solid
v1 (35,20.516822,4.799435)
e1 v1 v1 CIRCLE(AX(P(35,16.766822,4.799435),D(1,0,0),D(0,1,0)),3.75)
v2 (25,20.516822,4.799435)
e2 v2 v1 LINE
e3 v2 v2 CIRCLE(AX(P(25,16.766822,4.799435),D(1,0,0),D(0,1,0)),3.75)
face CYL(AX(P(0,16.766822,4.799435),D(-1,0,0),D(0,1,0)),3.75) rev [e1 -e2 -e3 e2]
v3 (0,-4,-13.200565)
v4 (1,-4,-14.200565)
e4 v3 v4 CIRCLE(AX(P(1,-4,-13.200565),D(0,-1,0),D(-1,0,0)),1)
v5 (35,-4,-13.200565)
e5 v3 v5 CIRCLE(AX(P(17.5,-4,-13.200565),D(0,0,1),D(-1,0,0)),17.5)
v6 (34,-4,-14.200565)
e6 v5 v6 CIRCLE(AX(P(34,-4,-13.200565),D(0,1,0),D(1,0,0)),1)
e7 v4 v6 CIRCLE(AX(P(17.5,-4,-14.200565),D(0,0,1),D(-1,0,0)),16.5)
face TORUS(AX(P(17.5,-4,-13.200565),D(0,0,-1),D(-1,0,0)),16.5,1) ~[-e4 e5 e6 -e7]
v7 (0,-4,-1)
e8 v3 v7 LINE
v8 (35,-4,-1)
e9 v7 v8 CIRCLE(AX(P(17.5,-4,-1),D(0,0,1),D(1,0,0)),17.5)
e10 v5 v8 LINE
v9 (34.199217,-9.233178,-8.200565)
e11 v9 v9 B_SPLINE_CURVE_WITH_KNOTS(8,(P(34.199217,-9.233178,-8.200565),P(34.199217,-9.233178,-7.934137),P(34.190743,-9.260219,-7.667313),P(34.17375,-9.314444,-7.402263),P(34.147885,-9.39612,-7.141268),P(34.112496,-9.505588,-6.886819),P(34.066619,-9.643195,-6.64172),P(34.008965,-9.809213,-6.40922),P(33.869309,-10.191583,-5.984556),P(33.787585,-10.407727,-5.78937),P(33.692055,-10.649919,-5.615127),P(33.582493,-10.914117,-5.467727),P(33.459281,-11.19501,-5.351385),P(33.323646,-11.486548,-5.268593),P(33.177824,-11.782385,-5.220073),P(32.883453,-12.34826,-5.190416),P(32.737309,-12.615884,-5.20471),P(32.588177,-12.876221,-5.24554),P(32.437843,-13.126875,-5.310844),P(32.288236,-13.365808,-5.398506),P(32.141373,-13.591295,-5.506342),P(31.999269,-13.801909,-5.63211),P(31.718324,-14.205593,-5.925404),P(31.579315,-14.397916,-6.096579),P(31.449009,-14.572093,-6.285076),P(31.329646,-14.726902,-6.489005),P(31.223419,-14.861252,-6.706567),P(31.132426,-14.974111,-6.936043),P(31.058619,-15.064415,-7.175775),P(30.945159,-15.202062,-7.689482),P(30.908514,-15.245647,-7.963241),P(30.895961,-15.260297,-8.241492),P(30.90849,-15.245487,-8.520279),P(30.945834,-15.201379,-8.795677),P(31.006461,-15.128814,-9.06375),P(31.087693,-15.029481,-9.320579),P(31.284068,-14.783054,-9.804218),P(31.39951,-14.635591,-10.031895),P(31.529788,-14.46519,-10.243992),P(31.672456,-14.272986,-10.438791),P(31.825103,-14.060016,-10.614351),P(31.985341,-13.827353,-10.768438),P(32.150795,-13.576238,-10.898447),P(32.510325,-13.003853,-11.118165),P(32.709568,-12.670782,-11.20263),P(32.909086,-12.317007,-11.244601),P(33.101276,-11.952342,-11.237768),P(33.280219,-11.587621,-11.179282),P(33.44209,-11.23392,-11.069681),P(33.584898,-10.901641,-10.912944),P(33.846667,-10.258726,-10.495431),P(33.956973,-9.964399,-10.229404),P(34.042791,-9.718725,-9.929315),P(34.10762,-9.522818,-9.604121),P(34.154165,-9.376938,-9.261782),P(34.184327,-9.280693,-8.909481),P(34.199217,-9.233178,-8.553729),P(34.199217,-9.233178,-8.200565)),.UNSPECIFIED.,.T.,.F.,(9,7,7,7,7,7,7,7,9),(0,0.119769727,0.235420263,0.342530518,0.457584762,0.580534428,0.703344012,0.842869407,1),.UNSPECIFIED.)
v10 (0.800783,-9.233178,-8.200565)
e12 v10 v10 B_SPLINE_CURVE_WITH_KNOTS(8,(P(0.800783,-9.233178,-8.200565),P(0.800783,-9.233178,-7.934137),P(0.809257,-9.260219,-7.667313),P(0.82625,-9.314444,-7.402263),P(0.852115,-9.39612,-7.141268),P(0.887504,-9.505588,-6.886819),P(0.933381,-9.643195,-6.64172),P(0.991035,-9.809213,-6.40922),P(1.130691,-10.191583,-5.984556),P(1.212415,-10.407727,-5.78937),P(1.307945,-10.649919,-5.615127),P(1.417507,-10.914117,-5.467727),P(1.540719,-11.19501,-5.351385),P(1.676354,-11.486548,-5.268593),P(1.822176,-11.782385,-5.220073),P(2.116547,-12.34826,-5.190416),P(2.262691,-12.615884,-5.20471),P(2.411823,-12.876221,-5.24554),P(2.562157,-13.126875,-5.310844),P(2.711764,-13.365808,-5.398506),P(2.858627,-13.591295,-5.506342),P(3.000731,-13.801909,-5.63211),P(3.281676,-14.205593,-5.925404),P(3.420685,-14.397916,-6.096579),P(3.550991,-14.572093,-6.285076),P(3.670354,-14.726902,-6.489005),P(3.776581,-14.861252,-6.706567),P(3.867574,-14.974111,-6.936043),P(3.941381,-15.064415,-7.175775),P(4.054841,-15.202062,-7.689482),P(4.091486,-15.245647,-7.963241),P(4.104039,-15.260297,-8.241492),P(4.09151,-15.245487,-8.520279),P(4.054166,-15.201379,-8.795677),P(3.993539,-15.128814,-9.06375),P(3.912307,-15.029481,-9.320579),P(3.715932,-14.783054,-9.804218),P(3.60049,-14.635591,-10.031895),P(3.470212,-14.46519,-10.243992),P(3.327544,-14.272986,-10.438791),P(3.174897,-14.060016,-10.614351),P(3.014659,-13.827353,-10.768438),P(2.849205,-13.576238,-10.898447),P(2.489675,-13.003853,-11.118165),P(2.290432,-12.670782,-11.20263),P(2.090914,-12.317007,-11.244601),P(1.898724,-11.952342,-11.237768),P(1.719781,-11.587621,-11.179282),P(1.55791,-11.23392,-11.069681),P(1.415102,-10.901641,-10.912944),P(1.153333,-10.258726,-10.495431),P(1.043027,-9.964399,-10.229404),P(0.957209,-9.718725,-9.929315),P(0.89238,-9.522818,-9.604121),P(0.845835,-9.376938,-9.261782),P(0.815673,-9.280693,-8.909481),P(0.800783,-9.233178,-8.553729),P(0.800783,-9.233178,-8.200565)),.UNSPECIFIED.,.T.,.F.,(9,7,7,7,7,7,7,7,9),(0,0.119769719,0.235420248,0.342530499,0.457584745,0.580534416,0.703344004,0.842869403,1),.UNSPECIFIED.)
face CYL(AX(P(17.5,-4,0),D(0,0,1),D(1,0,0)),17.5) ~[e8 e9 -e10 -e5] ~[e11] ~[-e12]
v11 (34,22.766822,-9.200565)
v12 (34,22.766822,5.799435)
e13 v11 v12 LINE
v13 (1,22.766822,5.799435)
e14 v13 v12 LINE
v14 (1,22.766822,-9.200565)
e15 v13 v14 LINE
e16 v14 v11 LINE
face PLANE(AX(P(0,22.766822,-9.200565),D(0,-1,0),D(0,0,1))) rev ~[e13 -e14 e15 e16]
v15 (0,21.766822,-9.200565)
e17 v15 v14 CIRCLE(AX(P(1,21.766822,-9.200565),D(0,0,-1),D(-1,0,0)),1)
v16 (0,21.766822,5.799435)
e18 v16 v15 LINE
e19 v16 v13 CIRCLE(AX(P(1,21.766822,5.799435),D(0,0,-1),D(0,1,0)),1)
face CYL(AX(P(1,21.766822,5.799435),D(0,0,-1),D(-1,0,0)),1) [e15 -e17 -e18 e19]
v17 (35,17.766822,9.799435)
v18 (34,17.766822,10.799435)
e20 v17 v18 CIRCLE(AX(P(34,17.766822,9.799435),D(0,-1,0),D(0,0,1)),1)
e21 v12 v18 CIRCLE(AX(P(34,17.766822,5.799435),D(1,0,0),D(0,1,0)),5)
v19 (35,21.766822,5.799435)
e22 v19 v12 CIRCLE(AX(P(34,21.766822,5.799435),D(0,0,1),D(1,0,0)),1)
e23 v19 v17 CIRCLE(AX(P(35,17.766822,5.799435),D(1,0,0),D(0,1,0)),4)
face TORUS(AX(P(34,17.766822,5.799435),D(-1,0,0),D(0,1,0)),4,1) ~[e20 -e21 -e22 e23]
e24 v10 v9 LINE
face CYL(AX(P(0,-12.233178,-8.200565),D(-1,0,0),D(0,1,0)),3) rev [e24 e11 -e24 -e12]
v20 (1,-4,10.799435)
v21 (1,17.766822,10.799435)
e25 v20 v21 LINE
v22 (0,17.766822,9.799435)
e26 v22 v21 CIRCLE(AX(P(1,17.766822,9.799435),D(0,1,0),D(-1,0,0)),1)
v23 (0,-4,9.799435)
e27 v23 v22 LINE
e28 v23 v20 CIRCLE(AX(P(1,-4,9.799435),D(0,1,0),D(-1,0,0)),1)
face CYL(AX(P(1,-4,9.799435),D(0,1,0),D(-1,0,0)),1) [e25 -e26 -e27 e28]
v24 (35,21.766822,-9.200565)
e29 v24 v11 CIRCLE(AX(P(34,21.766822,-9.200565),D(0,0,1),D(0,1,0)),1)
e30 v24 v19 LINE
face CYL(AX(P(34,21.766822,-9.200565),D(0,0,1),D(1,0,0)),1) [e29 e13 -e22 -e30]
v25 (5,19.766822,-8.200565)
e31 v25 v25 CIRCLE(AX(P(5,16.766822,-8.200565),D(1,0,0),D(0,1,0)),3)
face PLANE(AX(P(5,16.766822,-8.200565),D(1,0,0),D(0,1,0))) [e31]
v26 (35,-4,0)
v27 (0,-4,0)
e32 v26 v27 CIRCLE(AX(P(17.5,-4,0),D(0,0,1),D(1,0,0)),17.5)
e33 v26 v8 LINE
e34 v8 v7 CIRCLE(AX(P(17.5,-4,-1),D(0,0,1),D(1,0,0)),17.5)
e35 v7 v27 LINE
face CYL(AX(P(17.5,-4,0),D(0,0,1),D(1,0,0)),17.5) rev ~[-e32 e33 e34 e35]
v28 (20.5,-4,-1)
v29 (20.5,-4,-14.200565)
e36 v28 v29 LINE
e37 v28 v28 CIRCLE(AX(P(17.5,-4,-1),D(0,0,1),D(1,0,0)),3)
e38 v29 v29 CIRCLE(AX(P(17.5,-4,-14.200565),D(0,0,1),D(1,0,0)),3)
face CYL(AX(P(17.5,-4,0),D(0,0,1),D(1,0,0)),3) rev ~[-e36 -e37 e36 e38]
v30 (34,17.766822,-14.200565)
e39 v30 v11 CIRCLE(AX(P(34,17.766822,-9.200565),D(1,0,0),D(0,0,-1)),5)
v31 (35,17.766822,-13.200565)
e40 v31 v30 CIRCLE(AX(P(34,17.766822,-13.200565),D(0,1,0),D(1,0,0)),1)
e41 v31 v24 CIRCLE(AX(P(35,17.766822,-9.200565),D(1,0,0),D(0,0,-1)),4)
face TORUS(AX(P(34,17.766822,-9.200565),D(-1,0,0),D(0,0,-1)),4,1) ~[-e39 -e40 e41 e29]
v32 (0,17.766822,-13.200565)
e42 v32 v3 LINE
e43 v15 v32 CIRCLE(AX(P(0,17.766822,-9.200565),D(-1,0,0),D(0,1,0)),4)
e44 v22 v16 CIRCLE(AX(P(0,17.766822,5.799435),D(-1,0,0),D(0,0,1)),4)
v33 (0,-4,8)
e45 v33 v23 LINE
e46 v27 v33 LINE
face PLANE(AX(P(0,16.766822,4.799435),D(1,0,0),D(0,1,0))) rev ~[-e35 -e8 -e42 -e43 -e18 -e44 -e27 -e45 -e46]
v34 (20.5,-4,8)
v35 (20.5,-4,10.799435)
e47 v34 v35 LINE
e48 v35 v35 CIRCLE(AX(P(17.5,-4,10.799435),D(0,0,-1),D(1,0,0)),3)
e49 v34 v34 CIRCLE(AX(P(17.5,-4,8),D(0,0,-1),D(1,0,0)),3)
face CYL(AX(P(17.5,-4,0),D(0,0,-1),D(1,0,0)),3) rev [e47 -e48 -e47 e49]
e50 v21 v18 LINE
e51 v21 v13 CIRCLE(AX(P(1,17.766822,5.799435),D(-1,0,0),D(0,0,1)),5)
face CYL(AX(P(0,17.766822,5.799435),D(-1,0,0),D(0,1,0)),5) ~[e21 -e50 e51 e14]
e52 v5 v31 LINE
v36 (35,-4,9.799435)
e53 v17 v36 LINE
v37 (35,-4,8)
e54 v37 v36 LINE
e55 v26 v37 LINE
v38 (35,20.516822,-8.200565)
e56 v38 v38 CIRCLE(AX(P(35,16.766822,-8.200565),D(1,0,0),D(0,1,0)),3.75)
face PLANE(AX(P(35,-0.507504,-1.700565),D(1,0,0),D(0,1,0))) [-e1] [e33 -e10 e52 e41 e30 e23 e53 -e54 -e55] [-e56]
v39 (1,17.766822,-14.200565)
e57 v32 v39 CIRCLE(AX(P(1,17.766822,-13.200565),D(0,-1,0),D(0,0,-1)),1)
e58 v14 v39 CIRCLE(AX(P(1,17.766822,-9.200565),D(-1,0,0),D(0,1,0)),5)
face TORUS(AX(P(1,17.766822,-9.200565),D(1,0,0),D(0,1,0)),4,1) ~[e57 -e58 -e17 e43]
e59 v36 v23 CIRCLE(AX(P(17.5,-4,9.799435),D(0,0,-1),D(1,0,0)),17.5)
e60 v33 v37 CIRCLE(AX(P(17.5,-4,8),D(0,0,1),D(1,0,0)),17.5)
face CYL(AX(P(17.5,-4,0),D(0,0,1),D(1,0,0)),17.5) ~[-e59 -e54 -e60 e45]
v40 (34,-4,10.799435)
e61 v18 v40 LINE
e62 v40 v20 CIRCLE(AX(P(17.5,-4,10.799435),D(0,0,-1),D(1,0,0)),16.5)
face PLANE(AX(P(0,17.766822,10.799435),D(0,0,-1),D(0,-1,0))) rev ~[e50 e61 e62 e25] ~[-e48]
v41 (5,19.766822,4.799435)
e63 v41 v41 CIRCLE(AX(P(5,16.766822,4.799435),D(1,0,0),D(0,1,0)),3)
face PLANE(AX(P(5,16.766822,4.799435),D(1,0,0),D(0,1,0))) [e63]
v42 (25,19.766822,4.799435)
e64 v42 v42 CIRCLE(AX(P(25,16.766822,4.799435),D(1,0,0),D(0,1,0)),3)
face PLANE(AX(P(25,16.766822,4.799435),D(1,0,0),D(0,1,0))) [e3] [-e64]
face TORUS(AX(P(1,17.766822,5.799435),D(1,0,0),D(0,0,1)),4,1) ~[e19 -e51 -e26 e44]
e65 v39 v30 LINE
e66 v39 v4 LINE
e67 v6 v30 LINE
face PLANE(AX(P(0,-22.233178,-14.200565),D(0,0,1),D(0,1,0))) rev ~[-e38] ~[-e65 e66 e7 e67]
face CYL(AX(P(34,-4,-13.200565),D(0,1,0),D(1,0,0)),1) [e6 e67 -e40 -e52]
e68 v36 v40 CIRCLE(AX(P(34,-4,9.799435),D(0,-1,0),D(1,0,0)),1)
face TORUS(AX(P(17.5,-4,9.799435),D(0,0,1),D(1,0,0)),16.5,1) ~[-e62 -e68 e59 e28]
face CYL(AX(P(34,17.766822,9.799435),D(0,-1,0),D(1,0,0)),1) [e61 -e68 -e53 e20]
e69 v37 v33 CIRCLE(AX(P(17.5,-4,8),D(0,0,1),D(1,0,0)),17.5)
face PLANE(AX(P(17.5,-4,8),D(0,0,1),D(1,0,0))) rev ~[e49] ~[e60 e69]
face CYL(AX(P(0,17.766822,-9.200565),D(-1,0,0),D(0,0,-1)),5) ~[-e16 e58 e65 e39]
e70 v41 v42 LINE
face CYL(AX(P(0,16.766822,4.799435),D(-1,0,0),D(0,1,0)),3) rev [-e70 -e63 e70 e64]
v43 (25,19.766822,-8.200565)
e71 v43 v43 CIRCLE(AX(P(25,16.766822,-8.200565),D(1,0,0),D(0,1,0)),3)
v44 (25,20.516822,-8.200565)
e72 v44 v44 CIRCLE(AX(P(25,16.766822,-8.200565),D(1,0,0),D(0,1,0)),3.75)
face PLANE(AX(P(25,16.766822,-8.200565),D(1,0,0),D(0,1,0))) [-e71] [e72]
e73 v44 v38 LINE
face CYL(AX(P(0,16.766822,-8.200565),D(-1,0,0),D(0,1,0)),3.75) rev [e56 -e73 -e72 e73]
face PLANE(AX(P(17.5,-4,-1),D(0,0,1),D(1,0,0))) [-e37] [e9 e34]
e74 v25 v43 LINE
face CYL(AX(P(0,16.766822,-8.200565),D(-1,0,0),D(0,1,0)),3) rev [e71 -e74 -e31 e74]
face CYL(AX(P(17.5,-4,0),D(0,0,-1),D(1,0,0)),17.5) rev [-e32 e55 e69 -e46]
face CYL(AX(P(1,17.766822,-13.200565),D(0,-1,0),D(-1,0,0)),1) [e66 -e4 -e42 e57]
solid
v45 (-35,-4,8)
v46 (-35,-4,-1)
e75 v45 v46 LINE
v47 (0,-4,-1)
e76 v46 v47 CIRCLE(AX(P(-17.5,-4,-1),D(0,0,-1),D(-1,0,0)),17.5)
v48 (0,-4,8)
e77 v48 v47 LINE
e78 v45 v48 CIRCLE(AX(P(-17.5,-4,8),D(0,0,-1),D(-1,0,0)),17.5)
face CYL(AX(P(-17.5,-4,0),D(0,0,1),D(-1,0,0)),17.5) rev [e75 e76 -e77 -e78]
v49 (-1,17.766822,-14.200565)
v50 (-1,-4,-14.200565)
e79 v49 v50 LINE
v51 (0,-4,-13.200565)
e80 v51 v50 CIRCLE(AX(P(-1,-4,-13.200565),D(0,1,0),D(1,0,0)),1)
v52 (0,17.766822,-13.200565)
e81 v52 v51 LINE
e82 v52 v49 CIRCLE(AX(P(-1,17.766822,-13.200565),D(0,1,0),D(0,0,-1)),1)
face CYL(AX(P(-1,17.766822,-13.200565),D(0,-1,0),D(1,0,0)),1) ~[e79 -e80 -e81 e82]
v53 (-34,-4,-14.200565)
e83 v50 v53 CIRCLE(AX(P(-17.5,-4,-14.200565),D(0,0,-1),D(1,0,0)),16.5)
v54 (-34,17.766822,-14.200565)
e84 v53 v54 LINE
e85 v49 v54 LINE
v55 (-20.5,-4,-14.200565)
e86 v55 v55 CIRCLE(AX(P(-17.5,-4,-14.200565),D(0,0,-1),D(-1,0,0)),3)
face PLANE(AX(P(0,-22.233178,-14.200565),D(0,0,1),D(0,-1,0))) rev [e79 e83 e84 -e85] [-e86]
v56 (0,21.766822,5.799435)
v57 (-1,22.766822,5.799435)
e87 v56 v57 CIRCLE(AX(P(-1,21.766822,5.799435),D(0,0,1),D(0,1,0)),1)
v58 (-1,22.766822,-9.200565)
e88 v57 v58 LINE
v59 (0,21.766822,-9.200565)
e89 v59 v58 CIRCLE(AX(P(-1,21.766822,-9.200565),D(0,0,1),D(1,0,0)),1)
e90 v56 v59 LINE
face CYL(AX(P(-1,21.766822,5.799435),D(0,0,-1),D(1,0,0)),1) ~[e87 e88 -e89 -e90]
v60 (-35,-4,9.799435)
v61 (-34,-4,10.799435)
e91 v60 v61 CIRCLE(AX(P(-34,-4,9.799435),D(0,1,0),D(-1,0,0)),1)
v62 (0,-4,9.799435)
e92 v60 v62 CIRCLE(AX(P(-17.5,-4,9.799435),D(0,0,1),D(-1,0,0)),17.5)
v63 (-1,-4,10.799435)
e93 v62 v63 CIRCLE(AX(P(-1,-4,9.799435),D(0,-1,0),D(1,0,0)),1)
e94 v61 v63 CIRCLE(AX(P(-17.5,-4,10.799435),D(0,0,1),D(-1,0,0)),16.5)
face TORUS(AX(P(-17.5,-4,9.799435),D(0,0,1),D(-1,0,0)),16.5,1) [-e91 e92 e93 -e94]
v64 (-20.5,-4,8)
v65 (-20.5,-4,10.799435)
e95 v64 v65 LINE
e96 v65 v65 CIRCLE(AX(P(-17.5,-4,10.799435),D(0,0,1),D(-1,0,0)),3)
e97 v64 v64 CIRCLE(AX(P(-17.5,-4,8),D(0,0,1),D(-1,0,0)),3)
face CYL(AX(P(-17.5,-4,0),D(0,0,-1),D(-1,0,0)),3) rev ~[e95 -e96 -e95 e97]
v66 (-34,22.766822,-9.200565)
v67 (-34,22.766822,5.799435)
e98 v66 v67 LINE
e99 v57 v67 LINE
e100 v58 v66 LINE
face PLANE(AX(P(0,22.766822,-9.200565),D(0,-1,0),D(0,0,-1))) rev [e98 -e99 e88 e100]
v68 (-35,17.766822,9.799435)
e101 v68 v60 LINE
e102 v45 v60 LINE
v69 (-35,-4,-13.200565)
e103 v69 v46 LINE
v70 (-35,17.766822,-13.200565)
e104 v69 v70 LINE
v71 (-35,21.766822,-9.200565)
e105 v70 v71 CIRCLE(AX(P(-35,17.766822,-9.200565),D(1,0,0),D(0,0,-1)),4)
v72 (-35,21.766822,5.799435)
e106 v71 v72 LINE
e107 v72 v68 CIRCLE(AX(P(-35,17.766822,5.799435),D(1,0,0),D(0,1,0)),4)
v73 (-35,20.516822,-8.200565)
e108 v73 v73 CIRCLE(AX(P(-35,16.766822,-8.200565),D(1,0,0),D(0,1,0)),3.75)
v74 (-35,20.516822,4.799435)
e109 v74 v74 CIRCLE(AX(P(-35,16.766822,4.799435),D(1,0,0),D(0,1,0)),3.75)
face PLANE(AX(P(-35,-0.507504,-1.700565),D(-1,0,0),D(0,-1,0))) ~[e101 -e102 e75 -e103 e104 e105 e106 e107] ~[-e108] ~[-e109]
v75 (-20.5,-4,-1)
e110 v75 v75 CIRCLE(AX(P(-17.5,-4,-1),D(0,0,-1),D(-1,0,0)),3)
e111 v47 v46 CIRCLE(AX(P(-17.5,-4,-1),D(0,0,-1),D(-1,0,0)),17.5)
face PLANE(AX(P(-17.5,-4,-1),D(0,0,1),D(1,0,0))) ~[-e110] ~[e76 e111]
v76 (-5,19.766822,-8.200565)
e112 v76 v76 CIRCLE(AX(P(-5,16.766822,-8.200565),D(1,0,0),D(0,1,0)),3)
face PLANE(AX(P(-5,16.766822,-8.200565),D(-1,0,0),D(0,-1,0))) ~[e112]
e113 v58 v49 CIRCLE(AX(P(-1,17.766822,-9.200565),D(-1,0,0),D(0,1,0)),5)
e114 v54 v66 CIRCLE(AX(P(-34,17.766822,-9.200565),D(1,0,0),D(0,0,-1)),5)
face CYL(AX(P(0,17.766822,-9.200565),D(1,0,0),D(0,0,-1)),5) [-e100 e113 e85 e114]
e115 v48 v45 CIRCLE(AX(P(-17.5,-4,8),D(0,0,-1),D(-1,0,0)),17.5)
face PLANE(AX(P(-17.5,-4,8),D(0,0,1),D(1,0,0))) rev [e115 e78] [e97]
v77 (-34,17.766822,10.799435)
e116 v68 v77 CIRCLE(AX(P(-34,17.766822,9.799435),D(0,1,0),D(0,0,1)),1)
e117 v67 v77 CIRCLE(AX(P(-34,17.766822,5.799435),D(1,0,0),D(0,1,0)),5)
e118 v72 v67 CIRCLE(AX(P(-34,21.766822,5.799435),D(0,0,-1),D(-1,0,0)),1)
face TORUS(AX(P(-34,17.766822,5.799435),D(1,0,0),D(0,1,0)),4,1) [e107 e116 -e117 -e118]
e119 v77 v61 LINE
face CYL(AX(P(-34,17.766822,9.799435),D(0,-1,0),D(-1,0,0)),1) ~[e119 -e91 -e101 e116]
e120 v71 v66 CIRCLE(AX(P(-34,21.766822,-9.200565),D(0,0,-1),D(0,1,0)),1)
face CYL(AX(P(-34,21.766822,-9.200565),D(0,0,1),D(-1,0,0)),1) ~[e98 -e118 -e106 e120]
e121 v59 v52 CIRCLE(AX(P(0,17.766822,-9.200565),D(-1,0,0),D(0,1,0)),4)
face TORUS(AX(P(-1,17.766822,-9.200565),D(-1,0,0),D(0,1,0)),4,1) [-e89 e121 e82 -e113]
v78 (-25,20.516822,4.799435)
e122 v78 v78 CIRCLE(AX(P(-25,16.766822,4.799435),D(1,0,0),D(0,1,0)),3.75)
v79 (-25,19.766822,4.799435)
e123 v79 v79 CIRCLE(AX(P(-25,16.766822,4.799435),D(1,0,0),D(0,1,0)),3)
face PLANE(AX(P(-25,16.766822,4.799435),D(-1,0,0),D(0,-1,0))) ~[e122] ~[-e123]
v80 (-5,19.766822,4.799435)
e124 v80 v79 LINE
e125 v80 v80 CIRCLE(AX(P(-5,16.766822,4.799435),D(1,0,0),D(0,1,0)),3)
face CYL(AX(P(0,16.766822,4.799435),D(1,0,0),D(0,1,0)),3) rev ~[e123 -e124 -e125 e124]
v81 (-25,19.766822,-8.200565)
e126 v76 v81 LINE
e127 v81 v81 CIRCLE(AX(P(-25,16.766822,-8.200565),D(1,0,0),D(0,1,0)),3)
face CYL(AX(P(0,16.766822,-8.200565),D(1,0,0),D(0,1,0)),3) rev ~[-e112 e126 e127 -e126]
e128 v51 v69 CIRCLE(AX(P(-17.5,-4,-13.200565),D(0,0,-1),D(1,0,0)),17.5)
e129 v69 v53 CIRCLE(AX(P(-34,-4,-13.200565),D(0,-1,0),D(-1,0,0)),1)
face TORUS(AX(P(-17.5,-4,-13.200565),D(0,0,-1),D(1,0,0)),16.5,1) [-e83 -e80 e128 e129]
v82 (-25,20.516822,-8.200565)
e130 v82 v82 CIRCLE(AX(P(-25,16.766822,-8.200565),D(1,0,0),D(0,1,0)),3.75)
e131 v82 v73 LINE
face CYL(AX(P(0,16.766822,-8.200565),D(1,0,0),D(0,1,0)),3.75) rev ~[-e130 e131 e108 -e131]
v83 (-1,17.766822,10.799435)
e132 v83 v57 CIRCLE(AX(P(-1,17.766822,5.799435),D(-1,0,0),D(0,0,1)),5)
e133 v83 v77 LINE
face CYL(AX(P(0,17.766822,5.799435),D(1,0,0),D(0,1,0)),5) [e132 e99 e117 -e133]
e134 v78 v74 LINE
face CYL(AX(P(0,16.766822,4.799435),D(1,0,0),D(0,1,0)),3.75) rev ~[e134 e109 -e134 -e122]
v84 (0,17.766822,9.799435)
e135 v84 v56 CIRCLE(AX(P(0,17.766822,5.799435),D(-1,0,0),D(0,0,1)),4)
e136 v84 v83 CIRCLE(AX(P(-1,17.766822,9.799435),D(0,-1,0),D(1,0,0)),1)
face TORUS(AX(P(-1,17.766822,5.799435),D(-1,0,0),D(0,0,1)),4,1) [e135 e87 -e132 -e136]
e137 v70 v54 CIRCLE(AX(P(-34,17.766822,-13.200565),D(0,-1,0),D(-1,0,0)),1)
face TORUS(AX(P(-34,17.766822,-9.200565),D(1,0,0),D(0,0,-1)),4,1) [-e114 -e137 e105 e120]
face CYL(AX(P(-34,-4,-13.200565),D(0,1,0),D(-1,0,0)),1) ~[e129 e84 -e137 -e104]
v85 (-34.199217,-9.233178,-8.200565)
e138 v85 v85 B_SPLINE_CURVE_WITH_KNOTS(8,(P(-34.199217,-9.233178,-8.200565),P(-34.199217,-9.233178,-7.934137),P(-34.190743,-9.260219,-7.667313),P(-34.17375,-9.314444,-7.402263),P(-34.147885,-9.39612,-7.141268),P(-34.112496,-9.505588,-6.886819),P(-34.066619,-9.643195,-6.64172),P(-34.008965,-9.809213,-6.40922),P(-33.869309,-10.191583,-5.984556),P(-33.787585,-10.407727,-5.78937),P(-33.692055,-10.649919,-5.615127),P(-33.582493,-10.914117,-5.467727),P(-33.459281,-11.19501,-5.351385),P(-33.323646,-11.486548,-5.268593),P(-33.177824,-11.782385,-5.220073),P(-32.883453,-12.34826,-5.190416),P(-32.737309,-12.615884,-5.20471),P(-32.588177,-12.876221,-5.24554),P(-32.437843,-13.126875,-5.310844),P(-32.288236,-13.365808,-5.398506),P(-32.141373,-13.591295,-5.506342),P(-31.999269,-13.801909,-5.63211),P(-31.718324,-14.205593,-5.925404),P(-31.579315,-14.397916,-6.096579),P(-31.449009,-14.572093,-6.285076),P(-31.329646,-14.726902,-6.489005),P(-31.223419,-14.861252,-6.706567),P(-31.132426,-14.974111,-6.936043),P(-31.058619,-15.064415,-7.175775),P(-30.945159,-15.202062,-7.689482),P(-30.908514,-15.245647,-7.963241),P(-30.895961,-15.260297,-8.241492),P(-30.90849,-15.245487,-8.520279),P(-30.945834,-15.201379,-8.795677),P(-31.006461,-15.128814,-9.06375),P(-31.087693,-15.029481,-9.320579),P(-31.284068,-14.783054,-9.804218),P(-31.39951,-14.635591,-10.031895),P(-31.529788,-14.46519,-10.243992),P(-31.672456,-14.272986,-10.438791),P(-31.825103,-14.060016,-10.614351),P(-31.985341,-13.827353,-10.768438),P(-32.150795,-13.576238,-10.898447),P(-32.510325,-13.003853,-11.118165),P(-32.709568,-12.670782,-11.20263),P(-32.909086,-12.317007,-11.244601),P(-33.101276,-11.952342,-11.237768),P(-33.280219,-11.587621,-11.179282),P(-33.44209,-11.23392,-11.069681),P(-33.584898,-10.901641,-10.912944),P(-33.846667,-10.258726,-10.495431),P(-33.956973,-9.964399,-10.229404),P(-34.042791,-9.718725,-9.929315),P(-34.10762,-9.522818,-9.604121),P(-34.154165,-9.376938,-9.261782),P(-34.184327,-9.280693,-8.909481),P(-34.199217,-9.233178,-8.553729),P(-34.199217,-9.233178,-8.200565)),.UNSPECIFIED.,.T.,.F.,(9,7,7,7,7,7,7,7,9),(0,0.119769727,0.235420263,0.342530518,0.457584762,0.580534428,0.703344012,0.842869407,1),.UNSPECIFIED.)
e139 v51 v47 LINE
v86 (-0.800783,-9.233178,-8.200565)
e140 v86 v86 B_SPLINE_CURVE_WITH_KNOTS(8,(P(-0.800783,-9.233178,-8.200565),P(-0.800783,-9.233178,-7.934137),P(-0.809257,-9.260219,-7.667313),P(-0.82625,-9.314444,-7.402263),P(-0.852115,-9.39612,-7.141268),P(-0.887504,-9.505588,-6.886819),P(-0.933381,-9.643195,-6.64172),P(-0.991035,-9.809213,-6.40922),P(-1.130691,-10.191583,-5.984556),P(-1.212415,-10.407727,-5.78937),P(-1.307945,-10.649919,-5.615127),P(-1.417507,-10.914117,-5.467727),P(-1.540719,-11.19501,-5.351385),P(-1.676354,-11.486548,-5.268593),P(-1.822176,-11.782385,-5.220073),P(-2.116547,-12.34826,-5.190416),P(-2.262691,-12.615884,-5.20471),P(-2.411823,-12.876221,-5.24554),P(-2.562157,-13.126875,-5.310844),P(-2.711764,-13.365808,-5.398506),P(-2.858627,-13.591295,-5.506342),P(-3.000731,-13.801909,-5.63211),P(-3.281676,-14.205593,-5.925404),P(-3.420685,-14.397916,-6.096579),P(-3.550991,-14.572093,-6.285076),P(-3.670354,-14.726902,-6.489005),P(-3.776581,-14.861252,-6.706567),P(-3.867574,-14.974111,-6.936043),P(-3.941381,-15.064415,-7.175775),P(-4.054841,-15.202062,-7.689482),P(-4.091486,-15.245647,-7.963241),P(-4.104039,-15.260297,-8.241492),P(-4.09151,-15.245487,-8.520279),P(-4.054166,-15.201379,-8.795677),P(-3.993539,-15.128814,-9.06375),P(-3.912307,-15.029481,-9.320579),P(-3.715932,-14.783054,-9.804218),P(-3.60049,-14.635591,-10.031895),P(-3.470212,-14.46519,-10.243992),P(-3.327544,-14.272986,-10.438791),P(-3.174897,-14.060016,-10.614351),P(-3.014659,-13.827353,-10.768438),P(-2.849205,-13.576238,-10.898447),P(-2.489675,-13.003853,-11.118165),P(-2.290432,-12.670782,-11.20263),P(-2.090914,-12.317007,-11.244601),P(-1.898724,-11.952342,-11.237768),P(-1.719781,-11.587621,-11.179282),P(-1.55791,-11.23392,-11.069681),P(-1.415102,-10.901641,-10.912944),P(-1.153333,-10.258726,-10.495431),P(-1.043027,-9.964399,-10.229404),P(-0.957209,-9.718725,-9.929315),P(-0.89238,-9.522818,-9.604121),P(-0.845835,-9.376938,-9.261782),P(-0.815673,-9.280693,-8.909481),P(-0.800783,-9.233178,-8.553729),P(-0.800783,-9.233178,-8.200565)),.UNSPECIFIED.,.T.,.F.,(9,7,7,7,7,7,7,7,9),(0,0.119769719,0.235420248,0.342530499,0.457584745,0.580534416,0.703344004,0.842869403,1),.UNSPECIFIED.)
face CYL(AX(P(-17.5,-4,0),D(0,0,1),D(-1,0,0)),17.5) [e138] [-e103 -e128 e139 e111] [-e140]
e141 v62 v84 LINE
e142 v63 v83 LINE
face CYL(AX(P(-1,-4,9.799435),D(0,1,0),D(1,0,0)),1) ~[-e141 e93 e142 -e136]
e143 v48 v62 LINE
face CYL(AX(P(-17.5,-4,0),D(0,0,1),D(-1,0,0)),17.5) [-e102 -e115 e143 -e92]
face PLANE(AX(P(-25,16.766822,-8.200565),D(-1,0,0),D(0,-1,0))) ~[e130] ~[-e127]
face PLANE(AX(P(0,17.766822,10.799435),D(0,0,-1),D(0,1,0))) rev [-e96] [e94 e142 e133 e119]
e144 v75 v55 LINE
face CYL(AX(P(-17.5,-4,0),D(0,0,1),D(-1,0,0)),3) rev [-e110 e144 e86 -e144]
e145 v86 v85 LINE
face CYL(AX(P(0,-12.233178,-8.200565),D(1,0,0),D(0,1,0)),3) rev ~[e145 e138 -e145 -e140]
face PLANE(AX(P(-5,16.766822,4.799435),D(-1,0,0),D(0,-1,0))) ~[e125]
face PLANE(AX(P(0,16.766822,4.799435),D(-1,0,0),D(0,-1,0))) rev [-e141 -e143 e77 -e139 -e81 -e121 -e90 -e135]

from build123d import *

# Parameters (mm, degrees)
F0_R          = 3
F0_R_2        = 3.75
F1_DEPTH      = 35
F2_DEPTH      = 25
F3_DEPTH      = 5
F5_DEPTH      = 25
F5_DEPTH_BACK = 25
F4_R          = 15
F6_DEPTH      = 1
F6_DEPTH_BACK = 8
F7_R          = 3
F8_DEPTH      = 25
F8_DEPTH_BACK = 25
F9_R          = 1


with BuildPart() as f1:
    # F0 (on Right) → F1 (new body)
    with BuildSketch(Plane.YZ):
        with BuildLine():
            Line((17.766822055, 10.7994352999), (-22.233177945, 10.7994352999))
            Line((-22.233177945, 10.7994352999), (-22.233177945, -14.2005647001))
            Line((-22.233177945, -14.2005647001), (17.766822055, -14.2005647001))
            ThreePointArc((17.766822055, -14.2005647001), (21.3023559609, -12.7360986061), (22.766822055, -9.2005647001))
            Line((22.766822055, -9.2005647001), (22.766822055, 5.7994352999))
            ThreePointArc((22.766822055, 5.7994352999), (21.3023559609, 9.3349692058), (17.766822055, 10.7994352999))
        make_face()
        with Locations((-12.233177945, -8.2005647001)):
            Circle(F0_R, mode=Mode.SUBTRACT)
        with Locations((16.766822055, -8.2005647001)):
            Circle(F0_R_2, mode=Mode.SUBTRACT)
        with Locations((16.766822055, 4.7994352999)):
            Circle(F0_R_2, mode=Mode.SUBTRACT)
    extrude(amount=F1_DEPTH)

    # F0 (on Right) → F2 (join)
    with BuildSketch(Plane.YZ):
        with Locations((16.766822055, 4.7994352999)):
            Circle(F0_R_2)
        with Locations((16.766822055, 4.7994352999)):
            Circle(F0_R, mode=Mode.SUBTRACT)
        with Locations((16.766822055, -8.2005647001)):
            Circle(F0_R_2)
        with Locations((16.766822055, -8.2005647001)):
            Circle(F0_R, mode=Mode.SUBTRACT)
    extrude(amount=F2_DEPTH)

    # F0 (on Right) → F3 (join)
    with BuildSketch(Plane.YZ):
        with Locations((16.766822055, 4.7994352999)):
            Circle(F0_R)
        with Locations((16.766822055, -8.2005647001)):
            Circle(F0_R)
    extrude(amount=F3_DEPTH)

    # F4 (on Top) → F5 (cut, two sides)
    with BuildSketch(Plane.XY) as f5_sk:
        with BuildLine():
            Line((35, -24.2075013213), (35, -4))
            ThreePointArc((35, -4), (17.5, -21.5), (0, -4))
            Line((0, -4), (0, -24.2075013213))
            Line((0, -24.2075013213), (35, -24.2075013213))
        make_face()
    extrude(amount=-F5_DEPTH, mode=Mode.SUBTRACT)
    extrude(f5_sk.sketch, amount=F5_DEPTH_BACK, mode=Mode.SUBTRACT)

    # F4 (on Top) → F6 (cut, two sides)
    with BuildSketch(Plane.XY) as f6_sk:
        with BuildLine():
            ThreePointArc((0, -4), (17.5, -21.5), (35, -4))
            ThreePointArc((35, -4), (17.5, 13.5), (0, -4))
        make_face()
        with Locations((17.5, -4)):
            Circle(F4_R, mode=Mode.SUBTRACT)
        with Locations((17.5, -4)):
            Circle(F4_R)
    extrude(amount=-F6_DEPTH, mode=Mode.SUBTRACT)
    extrude(f6_sk.sketch, amount=F6_DEPTH_BACK, mode=Mode.SUBTRACT)

    # F7 (on Top) → F8 (cut, two sides)
    with BuildSketch(Plane.XY) as f8_sk:
        with Locations((17.5, -4)):
            Circle(F7_R)
    extrude(amount=-F8_DEPTH, mode=Mode.SUBTRACT)
    extrude(f8_sk.sketch, amount=F8_DEPTH_BACK, mode=Mode.SUBTRACT)

    # F9
    f9_edges = [f1.edges().sort_by_distance(p)[0] for p in [
        (17.5, -21.5, -14.200565),
        (0, 6.883411, -14.200565),
        (35, 6.883411, -14.200565),
        (0, 21.302356, -12.736099),
        (35, 21.302356, -12.736099),
        (35, 22.766822, -1.700565),
        (35, 21.302356, 9.334969),
        (35, 6.883411, 10.799435),
        (0, 6.883411, 10.799435),
        (0, 21.302356, 9.334969),
        (0, 22.766822, -1.700565),
    ]]
    fillet(f9_edges, radius=F9_R)


with BuildPart() as f10_1:
    # F10: instance of F1
    add(f1.part.mirror(Plane.YZ))


solid = Compound([f1.part, f10_1.part])
